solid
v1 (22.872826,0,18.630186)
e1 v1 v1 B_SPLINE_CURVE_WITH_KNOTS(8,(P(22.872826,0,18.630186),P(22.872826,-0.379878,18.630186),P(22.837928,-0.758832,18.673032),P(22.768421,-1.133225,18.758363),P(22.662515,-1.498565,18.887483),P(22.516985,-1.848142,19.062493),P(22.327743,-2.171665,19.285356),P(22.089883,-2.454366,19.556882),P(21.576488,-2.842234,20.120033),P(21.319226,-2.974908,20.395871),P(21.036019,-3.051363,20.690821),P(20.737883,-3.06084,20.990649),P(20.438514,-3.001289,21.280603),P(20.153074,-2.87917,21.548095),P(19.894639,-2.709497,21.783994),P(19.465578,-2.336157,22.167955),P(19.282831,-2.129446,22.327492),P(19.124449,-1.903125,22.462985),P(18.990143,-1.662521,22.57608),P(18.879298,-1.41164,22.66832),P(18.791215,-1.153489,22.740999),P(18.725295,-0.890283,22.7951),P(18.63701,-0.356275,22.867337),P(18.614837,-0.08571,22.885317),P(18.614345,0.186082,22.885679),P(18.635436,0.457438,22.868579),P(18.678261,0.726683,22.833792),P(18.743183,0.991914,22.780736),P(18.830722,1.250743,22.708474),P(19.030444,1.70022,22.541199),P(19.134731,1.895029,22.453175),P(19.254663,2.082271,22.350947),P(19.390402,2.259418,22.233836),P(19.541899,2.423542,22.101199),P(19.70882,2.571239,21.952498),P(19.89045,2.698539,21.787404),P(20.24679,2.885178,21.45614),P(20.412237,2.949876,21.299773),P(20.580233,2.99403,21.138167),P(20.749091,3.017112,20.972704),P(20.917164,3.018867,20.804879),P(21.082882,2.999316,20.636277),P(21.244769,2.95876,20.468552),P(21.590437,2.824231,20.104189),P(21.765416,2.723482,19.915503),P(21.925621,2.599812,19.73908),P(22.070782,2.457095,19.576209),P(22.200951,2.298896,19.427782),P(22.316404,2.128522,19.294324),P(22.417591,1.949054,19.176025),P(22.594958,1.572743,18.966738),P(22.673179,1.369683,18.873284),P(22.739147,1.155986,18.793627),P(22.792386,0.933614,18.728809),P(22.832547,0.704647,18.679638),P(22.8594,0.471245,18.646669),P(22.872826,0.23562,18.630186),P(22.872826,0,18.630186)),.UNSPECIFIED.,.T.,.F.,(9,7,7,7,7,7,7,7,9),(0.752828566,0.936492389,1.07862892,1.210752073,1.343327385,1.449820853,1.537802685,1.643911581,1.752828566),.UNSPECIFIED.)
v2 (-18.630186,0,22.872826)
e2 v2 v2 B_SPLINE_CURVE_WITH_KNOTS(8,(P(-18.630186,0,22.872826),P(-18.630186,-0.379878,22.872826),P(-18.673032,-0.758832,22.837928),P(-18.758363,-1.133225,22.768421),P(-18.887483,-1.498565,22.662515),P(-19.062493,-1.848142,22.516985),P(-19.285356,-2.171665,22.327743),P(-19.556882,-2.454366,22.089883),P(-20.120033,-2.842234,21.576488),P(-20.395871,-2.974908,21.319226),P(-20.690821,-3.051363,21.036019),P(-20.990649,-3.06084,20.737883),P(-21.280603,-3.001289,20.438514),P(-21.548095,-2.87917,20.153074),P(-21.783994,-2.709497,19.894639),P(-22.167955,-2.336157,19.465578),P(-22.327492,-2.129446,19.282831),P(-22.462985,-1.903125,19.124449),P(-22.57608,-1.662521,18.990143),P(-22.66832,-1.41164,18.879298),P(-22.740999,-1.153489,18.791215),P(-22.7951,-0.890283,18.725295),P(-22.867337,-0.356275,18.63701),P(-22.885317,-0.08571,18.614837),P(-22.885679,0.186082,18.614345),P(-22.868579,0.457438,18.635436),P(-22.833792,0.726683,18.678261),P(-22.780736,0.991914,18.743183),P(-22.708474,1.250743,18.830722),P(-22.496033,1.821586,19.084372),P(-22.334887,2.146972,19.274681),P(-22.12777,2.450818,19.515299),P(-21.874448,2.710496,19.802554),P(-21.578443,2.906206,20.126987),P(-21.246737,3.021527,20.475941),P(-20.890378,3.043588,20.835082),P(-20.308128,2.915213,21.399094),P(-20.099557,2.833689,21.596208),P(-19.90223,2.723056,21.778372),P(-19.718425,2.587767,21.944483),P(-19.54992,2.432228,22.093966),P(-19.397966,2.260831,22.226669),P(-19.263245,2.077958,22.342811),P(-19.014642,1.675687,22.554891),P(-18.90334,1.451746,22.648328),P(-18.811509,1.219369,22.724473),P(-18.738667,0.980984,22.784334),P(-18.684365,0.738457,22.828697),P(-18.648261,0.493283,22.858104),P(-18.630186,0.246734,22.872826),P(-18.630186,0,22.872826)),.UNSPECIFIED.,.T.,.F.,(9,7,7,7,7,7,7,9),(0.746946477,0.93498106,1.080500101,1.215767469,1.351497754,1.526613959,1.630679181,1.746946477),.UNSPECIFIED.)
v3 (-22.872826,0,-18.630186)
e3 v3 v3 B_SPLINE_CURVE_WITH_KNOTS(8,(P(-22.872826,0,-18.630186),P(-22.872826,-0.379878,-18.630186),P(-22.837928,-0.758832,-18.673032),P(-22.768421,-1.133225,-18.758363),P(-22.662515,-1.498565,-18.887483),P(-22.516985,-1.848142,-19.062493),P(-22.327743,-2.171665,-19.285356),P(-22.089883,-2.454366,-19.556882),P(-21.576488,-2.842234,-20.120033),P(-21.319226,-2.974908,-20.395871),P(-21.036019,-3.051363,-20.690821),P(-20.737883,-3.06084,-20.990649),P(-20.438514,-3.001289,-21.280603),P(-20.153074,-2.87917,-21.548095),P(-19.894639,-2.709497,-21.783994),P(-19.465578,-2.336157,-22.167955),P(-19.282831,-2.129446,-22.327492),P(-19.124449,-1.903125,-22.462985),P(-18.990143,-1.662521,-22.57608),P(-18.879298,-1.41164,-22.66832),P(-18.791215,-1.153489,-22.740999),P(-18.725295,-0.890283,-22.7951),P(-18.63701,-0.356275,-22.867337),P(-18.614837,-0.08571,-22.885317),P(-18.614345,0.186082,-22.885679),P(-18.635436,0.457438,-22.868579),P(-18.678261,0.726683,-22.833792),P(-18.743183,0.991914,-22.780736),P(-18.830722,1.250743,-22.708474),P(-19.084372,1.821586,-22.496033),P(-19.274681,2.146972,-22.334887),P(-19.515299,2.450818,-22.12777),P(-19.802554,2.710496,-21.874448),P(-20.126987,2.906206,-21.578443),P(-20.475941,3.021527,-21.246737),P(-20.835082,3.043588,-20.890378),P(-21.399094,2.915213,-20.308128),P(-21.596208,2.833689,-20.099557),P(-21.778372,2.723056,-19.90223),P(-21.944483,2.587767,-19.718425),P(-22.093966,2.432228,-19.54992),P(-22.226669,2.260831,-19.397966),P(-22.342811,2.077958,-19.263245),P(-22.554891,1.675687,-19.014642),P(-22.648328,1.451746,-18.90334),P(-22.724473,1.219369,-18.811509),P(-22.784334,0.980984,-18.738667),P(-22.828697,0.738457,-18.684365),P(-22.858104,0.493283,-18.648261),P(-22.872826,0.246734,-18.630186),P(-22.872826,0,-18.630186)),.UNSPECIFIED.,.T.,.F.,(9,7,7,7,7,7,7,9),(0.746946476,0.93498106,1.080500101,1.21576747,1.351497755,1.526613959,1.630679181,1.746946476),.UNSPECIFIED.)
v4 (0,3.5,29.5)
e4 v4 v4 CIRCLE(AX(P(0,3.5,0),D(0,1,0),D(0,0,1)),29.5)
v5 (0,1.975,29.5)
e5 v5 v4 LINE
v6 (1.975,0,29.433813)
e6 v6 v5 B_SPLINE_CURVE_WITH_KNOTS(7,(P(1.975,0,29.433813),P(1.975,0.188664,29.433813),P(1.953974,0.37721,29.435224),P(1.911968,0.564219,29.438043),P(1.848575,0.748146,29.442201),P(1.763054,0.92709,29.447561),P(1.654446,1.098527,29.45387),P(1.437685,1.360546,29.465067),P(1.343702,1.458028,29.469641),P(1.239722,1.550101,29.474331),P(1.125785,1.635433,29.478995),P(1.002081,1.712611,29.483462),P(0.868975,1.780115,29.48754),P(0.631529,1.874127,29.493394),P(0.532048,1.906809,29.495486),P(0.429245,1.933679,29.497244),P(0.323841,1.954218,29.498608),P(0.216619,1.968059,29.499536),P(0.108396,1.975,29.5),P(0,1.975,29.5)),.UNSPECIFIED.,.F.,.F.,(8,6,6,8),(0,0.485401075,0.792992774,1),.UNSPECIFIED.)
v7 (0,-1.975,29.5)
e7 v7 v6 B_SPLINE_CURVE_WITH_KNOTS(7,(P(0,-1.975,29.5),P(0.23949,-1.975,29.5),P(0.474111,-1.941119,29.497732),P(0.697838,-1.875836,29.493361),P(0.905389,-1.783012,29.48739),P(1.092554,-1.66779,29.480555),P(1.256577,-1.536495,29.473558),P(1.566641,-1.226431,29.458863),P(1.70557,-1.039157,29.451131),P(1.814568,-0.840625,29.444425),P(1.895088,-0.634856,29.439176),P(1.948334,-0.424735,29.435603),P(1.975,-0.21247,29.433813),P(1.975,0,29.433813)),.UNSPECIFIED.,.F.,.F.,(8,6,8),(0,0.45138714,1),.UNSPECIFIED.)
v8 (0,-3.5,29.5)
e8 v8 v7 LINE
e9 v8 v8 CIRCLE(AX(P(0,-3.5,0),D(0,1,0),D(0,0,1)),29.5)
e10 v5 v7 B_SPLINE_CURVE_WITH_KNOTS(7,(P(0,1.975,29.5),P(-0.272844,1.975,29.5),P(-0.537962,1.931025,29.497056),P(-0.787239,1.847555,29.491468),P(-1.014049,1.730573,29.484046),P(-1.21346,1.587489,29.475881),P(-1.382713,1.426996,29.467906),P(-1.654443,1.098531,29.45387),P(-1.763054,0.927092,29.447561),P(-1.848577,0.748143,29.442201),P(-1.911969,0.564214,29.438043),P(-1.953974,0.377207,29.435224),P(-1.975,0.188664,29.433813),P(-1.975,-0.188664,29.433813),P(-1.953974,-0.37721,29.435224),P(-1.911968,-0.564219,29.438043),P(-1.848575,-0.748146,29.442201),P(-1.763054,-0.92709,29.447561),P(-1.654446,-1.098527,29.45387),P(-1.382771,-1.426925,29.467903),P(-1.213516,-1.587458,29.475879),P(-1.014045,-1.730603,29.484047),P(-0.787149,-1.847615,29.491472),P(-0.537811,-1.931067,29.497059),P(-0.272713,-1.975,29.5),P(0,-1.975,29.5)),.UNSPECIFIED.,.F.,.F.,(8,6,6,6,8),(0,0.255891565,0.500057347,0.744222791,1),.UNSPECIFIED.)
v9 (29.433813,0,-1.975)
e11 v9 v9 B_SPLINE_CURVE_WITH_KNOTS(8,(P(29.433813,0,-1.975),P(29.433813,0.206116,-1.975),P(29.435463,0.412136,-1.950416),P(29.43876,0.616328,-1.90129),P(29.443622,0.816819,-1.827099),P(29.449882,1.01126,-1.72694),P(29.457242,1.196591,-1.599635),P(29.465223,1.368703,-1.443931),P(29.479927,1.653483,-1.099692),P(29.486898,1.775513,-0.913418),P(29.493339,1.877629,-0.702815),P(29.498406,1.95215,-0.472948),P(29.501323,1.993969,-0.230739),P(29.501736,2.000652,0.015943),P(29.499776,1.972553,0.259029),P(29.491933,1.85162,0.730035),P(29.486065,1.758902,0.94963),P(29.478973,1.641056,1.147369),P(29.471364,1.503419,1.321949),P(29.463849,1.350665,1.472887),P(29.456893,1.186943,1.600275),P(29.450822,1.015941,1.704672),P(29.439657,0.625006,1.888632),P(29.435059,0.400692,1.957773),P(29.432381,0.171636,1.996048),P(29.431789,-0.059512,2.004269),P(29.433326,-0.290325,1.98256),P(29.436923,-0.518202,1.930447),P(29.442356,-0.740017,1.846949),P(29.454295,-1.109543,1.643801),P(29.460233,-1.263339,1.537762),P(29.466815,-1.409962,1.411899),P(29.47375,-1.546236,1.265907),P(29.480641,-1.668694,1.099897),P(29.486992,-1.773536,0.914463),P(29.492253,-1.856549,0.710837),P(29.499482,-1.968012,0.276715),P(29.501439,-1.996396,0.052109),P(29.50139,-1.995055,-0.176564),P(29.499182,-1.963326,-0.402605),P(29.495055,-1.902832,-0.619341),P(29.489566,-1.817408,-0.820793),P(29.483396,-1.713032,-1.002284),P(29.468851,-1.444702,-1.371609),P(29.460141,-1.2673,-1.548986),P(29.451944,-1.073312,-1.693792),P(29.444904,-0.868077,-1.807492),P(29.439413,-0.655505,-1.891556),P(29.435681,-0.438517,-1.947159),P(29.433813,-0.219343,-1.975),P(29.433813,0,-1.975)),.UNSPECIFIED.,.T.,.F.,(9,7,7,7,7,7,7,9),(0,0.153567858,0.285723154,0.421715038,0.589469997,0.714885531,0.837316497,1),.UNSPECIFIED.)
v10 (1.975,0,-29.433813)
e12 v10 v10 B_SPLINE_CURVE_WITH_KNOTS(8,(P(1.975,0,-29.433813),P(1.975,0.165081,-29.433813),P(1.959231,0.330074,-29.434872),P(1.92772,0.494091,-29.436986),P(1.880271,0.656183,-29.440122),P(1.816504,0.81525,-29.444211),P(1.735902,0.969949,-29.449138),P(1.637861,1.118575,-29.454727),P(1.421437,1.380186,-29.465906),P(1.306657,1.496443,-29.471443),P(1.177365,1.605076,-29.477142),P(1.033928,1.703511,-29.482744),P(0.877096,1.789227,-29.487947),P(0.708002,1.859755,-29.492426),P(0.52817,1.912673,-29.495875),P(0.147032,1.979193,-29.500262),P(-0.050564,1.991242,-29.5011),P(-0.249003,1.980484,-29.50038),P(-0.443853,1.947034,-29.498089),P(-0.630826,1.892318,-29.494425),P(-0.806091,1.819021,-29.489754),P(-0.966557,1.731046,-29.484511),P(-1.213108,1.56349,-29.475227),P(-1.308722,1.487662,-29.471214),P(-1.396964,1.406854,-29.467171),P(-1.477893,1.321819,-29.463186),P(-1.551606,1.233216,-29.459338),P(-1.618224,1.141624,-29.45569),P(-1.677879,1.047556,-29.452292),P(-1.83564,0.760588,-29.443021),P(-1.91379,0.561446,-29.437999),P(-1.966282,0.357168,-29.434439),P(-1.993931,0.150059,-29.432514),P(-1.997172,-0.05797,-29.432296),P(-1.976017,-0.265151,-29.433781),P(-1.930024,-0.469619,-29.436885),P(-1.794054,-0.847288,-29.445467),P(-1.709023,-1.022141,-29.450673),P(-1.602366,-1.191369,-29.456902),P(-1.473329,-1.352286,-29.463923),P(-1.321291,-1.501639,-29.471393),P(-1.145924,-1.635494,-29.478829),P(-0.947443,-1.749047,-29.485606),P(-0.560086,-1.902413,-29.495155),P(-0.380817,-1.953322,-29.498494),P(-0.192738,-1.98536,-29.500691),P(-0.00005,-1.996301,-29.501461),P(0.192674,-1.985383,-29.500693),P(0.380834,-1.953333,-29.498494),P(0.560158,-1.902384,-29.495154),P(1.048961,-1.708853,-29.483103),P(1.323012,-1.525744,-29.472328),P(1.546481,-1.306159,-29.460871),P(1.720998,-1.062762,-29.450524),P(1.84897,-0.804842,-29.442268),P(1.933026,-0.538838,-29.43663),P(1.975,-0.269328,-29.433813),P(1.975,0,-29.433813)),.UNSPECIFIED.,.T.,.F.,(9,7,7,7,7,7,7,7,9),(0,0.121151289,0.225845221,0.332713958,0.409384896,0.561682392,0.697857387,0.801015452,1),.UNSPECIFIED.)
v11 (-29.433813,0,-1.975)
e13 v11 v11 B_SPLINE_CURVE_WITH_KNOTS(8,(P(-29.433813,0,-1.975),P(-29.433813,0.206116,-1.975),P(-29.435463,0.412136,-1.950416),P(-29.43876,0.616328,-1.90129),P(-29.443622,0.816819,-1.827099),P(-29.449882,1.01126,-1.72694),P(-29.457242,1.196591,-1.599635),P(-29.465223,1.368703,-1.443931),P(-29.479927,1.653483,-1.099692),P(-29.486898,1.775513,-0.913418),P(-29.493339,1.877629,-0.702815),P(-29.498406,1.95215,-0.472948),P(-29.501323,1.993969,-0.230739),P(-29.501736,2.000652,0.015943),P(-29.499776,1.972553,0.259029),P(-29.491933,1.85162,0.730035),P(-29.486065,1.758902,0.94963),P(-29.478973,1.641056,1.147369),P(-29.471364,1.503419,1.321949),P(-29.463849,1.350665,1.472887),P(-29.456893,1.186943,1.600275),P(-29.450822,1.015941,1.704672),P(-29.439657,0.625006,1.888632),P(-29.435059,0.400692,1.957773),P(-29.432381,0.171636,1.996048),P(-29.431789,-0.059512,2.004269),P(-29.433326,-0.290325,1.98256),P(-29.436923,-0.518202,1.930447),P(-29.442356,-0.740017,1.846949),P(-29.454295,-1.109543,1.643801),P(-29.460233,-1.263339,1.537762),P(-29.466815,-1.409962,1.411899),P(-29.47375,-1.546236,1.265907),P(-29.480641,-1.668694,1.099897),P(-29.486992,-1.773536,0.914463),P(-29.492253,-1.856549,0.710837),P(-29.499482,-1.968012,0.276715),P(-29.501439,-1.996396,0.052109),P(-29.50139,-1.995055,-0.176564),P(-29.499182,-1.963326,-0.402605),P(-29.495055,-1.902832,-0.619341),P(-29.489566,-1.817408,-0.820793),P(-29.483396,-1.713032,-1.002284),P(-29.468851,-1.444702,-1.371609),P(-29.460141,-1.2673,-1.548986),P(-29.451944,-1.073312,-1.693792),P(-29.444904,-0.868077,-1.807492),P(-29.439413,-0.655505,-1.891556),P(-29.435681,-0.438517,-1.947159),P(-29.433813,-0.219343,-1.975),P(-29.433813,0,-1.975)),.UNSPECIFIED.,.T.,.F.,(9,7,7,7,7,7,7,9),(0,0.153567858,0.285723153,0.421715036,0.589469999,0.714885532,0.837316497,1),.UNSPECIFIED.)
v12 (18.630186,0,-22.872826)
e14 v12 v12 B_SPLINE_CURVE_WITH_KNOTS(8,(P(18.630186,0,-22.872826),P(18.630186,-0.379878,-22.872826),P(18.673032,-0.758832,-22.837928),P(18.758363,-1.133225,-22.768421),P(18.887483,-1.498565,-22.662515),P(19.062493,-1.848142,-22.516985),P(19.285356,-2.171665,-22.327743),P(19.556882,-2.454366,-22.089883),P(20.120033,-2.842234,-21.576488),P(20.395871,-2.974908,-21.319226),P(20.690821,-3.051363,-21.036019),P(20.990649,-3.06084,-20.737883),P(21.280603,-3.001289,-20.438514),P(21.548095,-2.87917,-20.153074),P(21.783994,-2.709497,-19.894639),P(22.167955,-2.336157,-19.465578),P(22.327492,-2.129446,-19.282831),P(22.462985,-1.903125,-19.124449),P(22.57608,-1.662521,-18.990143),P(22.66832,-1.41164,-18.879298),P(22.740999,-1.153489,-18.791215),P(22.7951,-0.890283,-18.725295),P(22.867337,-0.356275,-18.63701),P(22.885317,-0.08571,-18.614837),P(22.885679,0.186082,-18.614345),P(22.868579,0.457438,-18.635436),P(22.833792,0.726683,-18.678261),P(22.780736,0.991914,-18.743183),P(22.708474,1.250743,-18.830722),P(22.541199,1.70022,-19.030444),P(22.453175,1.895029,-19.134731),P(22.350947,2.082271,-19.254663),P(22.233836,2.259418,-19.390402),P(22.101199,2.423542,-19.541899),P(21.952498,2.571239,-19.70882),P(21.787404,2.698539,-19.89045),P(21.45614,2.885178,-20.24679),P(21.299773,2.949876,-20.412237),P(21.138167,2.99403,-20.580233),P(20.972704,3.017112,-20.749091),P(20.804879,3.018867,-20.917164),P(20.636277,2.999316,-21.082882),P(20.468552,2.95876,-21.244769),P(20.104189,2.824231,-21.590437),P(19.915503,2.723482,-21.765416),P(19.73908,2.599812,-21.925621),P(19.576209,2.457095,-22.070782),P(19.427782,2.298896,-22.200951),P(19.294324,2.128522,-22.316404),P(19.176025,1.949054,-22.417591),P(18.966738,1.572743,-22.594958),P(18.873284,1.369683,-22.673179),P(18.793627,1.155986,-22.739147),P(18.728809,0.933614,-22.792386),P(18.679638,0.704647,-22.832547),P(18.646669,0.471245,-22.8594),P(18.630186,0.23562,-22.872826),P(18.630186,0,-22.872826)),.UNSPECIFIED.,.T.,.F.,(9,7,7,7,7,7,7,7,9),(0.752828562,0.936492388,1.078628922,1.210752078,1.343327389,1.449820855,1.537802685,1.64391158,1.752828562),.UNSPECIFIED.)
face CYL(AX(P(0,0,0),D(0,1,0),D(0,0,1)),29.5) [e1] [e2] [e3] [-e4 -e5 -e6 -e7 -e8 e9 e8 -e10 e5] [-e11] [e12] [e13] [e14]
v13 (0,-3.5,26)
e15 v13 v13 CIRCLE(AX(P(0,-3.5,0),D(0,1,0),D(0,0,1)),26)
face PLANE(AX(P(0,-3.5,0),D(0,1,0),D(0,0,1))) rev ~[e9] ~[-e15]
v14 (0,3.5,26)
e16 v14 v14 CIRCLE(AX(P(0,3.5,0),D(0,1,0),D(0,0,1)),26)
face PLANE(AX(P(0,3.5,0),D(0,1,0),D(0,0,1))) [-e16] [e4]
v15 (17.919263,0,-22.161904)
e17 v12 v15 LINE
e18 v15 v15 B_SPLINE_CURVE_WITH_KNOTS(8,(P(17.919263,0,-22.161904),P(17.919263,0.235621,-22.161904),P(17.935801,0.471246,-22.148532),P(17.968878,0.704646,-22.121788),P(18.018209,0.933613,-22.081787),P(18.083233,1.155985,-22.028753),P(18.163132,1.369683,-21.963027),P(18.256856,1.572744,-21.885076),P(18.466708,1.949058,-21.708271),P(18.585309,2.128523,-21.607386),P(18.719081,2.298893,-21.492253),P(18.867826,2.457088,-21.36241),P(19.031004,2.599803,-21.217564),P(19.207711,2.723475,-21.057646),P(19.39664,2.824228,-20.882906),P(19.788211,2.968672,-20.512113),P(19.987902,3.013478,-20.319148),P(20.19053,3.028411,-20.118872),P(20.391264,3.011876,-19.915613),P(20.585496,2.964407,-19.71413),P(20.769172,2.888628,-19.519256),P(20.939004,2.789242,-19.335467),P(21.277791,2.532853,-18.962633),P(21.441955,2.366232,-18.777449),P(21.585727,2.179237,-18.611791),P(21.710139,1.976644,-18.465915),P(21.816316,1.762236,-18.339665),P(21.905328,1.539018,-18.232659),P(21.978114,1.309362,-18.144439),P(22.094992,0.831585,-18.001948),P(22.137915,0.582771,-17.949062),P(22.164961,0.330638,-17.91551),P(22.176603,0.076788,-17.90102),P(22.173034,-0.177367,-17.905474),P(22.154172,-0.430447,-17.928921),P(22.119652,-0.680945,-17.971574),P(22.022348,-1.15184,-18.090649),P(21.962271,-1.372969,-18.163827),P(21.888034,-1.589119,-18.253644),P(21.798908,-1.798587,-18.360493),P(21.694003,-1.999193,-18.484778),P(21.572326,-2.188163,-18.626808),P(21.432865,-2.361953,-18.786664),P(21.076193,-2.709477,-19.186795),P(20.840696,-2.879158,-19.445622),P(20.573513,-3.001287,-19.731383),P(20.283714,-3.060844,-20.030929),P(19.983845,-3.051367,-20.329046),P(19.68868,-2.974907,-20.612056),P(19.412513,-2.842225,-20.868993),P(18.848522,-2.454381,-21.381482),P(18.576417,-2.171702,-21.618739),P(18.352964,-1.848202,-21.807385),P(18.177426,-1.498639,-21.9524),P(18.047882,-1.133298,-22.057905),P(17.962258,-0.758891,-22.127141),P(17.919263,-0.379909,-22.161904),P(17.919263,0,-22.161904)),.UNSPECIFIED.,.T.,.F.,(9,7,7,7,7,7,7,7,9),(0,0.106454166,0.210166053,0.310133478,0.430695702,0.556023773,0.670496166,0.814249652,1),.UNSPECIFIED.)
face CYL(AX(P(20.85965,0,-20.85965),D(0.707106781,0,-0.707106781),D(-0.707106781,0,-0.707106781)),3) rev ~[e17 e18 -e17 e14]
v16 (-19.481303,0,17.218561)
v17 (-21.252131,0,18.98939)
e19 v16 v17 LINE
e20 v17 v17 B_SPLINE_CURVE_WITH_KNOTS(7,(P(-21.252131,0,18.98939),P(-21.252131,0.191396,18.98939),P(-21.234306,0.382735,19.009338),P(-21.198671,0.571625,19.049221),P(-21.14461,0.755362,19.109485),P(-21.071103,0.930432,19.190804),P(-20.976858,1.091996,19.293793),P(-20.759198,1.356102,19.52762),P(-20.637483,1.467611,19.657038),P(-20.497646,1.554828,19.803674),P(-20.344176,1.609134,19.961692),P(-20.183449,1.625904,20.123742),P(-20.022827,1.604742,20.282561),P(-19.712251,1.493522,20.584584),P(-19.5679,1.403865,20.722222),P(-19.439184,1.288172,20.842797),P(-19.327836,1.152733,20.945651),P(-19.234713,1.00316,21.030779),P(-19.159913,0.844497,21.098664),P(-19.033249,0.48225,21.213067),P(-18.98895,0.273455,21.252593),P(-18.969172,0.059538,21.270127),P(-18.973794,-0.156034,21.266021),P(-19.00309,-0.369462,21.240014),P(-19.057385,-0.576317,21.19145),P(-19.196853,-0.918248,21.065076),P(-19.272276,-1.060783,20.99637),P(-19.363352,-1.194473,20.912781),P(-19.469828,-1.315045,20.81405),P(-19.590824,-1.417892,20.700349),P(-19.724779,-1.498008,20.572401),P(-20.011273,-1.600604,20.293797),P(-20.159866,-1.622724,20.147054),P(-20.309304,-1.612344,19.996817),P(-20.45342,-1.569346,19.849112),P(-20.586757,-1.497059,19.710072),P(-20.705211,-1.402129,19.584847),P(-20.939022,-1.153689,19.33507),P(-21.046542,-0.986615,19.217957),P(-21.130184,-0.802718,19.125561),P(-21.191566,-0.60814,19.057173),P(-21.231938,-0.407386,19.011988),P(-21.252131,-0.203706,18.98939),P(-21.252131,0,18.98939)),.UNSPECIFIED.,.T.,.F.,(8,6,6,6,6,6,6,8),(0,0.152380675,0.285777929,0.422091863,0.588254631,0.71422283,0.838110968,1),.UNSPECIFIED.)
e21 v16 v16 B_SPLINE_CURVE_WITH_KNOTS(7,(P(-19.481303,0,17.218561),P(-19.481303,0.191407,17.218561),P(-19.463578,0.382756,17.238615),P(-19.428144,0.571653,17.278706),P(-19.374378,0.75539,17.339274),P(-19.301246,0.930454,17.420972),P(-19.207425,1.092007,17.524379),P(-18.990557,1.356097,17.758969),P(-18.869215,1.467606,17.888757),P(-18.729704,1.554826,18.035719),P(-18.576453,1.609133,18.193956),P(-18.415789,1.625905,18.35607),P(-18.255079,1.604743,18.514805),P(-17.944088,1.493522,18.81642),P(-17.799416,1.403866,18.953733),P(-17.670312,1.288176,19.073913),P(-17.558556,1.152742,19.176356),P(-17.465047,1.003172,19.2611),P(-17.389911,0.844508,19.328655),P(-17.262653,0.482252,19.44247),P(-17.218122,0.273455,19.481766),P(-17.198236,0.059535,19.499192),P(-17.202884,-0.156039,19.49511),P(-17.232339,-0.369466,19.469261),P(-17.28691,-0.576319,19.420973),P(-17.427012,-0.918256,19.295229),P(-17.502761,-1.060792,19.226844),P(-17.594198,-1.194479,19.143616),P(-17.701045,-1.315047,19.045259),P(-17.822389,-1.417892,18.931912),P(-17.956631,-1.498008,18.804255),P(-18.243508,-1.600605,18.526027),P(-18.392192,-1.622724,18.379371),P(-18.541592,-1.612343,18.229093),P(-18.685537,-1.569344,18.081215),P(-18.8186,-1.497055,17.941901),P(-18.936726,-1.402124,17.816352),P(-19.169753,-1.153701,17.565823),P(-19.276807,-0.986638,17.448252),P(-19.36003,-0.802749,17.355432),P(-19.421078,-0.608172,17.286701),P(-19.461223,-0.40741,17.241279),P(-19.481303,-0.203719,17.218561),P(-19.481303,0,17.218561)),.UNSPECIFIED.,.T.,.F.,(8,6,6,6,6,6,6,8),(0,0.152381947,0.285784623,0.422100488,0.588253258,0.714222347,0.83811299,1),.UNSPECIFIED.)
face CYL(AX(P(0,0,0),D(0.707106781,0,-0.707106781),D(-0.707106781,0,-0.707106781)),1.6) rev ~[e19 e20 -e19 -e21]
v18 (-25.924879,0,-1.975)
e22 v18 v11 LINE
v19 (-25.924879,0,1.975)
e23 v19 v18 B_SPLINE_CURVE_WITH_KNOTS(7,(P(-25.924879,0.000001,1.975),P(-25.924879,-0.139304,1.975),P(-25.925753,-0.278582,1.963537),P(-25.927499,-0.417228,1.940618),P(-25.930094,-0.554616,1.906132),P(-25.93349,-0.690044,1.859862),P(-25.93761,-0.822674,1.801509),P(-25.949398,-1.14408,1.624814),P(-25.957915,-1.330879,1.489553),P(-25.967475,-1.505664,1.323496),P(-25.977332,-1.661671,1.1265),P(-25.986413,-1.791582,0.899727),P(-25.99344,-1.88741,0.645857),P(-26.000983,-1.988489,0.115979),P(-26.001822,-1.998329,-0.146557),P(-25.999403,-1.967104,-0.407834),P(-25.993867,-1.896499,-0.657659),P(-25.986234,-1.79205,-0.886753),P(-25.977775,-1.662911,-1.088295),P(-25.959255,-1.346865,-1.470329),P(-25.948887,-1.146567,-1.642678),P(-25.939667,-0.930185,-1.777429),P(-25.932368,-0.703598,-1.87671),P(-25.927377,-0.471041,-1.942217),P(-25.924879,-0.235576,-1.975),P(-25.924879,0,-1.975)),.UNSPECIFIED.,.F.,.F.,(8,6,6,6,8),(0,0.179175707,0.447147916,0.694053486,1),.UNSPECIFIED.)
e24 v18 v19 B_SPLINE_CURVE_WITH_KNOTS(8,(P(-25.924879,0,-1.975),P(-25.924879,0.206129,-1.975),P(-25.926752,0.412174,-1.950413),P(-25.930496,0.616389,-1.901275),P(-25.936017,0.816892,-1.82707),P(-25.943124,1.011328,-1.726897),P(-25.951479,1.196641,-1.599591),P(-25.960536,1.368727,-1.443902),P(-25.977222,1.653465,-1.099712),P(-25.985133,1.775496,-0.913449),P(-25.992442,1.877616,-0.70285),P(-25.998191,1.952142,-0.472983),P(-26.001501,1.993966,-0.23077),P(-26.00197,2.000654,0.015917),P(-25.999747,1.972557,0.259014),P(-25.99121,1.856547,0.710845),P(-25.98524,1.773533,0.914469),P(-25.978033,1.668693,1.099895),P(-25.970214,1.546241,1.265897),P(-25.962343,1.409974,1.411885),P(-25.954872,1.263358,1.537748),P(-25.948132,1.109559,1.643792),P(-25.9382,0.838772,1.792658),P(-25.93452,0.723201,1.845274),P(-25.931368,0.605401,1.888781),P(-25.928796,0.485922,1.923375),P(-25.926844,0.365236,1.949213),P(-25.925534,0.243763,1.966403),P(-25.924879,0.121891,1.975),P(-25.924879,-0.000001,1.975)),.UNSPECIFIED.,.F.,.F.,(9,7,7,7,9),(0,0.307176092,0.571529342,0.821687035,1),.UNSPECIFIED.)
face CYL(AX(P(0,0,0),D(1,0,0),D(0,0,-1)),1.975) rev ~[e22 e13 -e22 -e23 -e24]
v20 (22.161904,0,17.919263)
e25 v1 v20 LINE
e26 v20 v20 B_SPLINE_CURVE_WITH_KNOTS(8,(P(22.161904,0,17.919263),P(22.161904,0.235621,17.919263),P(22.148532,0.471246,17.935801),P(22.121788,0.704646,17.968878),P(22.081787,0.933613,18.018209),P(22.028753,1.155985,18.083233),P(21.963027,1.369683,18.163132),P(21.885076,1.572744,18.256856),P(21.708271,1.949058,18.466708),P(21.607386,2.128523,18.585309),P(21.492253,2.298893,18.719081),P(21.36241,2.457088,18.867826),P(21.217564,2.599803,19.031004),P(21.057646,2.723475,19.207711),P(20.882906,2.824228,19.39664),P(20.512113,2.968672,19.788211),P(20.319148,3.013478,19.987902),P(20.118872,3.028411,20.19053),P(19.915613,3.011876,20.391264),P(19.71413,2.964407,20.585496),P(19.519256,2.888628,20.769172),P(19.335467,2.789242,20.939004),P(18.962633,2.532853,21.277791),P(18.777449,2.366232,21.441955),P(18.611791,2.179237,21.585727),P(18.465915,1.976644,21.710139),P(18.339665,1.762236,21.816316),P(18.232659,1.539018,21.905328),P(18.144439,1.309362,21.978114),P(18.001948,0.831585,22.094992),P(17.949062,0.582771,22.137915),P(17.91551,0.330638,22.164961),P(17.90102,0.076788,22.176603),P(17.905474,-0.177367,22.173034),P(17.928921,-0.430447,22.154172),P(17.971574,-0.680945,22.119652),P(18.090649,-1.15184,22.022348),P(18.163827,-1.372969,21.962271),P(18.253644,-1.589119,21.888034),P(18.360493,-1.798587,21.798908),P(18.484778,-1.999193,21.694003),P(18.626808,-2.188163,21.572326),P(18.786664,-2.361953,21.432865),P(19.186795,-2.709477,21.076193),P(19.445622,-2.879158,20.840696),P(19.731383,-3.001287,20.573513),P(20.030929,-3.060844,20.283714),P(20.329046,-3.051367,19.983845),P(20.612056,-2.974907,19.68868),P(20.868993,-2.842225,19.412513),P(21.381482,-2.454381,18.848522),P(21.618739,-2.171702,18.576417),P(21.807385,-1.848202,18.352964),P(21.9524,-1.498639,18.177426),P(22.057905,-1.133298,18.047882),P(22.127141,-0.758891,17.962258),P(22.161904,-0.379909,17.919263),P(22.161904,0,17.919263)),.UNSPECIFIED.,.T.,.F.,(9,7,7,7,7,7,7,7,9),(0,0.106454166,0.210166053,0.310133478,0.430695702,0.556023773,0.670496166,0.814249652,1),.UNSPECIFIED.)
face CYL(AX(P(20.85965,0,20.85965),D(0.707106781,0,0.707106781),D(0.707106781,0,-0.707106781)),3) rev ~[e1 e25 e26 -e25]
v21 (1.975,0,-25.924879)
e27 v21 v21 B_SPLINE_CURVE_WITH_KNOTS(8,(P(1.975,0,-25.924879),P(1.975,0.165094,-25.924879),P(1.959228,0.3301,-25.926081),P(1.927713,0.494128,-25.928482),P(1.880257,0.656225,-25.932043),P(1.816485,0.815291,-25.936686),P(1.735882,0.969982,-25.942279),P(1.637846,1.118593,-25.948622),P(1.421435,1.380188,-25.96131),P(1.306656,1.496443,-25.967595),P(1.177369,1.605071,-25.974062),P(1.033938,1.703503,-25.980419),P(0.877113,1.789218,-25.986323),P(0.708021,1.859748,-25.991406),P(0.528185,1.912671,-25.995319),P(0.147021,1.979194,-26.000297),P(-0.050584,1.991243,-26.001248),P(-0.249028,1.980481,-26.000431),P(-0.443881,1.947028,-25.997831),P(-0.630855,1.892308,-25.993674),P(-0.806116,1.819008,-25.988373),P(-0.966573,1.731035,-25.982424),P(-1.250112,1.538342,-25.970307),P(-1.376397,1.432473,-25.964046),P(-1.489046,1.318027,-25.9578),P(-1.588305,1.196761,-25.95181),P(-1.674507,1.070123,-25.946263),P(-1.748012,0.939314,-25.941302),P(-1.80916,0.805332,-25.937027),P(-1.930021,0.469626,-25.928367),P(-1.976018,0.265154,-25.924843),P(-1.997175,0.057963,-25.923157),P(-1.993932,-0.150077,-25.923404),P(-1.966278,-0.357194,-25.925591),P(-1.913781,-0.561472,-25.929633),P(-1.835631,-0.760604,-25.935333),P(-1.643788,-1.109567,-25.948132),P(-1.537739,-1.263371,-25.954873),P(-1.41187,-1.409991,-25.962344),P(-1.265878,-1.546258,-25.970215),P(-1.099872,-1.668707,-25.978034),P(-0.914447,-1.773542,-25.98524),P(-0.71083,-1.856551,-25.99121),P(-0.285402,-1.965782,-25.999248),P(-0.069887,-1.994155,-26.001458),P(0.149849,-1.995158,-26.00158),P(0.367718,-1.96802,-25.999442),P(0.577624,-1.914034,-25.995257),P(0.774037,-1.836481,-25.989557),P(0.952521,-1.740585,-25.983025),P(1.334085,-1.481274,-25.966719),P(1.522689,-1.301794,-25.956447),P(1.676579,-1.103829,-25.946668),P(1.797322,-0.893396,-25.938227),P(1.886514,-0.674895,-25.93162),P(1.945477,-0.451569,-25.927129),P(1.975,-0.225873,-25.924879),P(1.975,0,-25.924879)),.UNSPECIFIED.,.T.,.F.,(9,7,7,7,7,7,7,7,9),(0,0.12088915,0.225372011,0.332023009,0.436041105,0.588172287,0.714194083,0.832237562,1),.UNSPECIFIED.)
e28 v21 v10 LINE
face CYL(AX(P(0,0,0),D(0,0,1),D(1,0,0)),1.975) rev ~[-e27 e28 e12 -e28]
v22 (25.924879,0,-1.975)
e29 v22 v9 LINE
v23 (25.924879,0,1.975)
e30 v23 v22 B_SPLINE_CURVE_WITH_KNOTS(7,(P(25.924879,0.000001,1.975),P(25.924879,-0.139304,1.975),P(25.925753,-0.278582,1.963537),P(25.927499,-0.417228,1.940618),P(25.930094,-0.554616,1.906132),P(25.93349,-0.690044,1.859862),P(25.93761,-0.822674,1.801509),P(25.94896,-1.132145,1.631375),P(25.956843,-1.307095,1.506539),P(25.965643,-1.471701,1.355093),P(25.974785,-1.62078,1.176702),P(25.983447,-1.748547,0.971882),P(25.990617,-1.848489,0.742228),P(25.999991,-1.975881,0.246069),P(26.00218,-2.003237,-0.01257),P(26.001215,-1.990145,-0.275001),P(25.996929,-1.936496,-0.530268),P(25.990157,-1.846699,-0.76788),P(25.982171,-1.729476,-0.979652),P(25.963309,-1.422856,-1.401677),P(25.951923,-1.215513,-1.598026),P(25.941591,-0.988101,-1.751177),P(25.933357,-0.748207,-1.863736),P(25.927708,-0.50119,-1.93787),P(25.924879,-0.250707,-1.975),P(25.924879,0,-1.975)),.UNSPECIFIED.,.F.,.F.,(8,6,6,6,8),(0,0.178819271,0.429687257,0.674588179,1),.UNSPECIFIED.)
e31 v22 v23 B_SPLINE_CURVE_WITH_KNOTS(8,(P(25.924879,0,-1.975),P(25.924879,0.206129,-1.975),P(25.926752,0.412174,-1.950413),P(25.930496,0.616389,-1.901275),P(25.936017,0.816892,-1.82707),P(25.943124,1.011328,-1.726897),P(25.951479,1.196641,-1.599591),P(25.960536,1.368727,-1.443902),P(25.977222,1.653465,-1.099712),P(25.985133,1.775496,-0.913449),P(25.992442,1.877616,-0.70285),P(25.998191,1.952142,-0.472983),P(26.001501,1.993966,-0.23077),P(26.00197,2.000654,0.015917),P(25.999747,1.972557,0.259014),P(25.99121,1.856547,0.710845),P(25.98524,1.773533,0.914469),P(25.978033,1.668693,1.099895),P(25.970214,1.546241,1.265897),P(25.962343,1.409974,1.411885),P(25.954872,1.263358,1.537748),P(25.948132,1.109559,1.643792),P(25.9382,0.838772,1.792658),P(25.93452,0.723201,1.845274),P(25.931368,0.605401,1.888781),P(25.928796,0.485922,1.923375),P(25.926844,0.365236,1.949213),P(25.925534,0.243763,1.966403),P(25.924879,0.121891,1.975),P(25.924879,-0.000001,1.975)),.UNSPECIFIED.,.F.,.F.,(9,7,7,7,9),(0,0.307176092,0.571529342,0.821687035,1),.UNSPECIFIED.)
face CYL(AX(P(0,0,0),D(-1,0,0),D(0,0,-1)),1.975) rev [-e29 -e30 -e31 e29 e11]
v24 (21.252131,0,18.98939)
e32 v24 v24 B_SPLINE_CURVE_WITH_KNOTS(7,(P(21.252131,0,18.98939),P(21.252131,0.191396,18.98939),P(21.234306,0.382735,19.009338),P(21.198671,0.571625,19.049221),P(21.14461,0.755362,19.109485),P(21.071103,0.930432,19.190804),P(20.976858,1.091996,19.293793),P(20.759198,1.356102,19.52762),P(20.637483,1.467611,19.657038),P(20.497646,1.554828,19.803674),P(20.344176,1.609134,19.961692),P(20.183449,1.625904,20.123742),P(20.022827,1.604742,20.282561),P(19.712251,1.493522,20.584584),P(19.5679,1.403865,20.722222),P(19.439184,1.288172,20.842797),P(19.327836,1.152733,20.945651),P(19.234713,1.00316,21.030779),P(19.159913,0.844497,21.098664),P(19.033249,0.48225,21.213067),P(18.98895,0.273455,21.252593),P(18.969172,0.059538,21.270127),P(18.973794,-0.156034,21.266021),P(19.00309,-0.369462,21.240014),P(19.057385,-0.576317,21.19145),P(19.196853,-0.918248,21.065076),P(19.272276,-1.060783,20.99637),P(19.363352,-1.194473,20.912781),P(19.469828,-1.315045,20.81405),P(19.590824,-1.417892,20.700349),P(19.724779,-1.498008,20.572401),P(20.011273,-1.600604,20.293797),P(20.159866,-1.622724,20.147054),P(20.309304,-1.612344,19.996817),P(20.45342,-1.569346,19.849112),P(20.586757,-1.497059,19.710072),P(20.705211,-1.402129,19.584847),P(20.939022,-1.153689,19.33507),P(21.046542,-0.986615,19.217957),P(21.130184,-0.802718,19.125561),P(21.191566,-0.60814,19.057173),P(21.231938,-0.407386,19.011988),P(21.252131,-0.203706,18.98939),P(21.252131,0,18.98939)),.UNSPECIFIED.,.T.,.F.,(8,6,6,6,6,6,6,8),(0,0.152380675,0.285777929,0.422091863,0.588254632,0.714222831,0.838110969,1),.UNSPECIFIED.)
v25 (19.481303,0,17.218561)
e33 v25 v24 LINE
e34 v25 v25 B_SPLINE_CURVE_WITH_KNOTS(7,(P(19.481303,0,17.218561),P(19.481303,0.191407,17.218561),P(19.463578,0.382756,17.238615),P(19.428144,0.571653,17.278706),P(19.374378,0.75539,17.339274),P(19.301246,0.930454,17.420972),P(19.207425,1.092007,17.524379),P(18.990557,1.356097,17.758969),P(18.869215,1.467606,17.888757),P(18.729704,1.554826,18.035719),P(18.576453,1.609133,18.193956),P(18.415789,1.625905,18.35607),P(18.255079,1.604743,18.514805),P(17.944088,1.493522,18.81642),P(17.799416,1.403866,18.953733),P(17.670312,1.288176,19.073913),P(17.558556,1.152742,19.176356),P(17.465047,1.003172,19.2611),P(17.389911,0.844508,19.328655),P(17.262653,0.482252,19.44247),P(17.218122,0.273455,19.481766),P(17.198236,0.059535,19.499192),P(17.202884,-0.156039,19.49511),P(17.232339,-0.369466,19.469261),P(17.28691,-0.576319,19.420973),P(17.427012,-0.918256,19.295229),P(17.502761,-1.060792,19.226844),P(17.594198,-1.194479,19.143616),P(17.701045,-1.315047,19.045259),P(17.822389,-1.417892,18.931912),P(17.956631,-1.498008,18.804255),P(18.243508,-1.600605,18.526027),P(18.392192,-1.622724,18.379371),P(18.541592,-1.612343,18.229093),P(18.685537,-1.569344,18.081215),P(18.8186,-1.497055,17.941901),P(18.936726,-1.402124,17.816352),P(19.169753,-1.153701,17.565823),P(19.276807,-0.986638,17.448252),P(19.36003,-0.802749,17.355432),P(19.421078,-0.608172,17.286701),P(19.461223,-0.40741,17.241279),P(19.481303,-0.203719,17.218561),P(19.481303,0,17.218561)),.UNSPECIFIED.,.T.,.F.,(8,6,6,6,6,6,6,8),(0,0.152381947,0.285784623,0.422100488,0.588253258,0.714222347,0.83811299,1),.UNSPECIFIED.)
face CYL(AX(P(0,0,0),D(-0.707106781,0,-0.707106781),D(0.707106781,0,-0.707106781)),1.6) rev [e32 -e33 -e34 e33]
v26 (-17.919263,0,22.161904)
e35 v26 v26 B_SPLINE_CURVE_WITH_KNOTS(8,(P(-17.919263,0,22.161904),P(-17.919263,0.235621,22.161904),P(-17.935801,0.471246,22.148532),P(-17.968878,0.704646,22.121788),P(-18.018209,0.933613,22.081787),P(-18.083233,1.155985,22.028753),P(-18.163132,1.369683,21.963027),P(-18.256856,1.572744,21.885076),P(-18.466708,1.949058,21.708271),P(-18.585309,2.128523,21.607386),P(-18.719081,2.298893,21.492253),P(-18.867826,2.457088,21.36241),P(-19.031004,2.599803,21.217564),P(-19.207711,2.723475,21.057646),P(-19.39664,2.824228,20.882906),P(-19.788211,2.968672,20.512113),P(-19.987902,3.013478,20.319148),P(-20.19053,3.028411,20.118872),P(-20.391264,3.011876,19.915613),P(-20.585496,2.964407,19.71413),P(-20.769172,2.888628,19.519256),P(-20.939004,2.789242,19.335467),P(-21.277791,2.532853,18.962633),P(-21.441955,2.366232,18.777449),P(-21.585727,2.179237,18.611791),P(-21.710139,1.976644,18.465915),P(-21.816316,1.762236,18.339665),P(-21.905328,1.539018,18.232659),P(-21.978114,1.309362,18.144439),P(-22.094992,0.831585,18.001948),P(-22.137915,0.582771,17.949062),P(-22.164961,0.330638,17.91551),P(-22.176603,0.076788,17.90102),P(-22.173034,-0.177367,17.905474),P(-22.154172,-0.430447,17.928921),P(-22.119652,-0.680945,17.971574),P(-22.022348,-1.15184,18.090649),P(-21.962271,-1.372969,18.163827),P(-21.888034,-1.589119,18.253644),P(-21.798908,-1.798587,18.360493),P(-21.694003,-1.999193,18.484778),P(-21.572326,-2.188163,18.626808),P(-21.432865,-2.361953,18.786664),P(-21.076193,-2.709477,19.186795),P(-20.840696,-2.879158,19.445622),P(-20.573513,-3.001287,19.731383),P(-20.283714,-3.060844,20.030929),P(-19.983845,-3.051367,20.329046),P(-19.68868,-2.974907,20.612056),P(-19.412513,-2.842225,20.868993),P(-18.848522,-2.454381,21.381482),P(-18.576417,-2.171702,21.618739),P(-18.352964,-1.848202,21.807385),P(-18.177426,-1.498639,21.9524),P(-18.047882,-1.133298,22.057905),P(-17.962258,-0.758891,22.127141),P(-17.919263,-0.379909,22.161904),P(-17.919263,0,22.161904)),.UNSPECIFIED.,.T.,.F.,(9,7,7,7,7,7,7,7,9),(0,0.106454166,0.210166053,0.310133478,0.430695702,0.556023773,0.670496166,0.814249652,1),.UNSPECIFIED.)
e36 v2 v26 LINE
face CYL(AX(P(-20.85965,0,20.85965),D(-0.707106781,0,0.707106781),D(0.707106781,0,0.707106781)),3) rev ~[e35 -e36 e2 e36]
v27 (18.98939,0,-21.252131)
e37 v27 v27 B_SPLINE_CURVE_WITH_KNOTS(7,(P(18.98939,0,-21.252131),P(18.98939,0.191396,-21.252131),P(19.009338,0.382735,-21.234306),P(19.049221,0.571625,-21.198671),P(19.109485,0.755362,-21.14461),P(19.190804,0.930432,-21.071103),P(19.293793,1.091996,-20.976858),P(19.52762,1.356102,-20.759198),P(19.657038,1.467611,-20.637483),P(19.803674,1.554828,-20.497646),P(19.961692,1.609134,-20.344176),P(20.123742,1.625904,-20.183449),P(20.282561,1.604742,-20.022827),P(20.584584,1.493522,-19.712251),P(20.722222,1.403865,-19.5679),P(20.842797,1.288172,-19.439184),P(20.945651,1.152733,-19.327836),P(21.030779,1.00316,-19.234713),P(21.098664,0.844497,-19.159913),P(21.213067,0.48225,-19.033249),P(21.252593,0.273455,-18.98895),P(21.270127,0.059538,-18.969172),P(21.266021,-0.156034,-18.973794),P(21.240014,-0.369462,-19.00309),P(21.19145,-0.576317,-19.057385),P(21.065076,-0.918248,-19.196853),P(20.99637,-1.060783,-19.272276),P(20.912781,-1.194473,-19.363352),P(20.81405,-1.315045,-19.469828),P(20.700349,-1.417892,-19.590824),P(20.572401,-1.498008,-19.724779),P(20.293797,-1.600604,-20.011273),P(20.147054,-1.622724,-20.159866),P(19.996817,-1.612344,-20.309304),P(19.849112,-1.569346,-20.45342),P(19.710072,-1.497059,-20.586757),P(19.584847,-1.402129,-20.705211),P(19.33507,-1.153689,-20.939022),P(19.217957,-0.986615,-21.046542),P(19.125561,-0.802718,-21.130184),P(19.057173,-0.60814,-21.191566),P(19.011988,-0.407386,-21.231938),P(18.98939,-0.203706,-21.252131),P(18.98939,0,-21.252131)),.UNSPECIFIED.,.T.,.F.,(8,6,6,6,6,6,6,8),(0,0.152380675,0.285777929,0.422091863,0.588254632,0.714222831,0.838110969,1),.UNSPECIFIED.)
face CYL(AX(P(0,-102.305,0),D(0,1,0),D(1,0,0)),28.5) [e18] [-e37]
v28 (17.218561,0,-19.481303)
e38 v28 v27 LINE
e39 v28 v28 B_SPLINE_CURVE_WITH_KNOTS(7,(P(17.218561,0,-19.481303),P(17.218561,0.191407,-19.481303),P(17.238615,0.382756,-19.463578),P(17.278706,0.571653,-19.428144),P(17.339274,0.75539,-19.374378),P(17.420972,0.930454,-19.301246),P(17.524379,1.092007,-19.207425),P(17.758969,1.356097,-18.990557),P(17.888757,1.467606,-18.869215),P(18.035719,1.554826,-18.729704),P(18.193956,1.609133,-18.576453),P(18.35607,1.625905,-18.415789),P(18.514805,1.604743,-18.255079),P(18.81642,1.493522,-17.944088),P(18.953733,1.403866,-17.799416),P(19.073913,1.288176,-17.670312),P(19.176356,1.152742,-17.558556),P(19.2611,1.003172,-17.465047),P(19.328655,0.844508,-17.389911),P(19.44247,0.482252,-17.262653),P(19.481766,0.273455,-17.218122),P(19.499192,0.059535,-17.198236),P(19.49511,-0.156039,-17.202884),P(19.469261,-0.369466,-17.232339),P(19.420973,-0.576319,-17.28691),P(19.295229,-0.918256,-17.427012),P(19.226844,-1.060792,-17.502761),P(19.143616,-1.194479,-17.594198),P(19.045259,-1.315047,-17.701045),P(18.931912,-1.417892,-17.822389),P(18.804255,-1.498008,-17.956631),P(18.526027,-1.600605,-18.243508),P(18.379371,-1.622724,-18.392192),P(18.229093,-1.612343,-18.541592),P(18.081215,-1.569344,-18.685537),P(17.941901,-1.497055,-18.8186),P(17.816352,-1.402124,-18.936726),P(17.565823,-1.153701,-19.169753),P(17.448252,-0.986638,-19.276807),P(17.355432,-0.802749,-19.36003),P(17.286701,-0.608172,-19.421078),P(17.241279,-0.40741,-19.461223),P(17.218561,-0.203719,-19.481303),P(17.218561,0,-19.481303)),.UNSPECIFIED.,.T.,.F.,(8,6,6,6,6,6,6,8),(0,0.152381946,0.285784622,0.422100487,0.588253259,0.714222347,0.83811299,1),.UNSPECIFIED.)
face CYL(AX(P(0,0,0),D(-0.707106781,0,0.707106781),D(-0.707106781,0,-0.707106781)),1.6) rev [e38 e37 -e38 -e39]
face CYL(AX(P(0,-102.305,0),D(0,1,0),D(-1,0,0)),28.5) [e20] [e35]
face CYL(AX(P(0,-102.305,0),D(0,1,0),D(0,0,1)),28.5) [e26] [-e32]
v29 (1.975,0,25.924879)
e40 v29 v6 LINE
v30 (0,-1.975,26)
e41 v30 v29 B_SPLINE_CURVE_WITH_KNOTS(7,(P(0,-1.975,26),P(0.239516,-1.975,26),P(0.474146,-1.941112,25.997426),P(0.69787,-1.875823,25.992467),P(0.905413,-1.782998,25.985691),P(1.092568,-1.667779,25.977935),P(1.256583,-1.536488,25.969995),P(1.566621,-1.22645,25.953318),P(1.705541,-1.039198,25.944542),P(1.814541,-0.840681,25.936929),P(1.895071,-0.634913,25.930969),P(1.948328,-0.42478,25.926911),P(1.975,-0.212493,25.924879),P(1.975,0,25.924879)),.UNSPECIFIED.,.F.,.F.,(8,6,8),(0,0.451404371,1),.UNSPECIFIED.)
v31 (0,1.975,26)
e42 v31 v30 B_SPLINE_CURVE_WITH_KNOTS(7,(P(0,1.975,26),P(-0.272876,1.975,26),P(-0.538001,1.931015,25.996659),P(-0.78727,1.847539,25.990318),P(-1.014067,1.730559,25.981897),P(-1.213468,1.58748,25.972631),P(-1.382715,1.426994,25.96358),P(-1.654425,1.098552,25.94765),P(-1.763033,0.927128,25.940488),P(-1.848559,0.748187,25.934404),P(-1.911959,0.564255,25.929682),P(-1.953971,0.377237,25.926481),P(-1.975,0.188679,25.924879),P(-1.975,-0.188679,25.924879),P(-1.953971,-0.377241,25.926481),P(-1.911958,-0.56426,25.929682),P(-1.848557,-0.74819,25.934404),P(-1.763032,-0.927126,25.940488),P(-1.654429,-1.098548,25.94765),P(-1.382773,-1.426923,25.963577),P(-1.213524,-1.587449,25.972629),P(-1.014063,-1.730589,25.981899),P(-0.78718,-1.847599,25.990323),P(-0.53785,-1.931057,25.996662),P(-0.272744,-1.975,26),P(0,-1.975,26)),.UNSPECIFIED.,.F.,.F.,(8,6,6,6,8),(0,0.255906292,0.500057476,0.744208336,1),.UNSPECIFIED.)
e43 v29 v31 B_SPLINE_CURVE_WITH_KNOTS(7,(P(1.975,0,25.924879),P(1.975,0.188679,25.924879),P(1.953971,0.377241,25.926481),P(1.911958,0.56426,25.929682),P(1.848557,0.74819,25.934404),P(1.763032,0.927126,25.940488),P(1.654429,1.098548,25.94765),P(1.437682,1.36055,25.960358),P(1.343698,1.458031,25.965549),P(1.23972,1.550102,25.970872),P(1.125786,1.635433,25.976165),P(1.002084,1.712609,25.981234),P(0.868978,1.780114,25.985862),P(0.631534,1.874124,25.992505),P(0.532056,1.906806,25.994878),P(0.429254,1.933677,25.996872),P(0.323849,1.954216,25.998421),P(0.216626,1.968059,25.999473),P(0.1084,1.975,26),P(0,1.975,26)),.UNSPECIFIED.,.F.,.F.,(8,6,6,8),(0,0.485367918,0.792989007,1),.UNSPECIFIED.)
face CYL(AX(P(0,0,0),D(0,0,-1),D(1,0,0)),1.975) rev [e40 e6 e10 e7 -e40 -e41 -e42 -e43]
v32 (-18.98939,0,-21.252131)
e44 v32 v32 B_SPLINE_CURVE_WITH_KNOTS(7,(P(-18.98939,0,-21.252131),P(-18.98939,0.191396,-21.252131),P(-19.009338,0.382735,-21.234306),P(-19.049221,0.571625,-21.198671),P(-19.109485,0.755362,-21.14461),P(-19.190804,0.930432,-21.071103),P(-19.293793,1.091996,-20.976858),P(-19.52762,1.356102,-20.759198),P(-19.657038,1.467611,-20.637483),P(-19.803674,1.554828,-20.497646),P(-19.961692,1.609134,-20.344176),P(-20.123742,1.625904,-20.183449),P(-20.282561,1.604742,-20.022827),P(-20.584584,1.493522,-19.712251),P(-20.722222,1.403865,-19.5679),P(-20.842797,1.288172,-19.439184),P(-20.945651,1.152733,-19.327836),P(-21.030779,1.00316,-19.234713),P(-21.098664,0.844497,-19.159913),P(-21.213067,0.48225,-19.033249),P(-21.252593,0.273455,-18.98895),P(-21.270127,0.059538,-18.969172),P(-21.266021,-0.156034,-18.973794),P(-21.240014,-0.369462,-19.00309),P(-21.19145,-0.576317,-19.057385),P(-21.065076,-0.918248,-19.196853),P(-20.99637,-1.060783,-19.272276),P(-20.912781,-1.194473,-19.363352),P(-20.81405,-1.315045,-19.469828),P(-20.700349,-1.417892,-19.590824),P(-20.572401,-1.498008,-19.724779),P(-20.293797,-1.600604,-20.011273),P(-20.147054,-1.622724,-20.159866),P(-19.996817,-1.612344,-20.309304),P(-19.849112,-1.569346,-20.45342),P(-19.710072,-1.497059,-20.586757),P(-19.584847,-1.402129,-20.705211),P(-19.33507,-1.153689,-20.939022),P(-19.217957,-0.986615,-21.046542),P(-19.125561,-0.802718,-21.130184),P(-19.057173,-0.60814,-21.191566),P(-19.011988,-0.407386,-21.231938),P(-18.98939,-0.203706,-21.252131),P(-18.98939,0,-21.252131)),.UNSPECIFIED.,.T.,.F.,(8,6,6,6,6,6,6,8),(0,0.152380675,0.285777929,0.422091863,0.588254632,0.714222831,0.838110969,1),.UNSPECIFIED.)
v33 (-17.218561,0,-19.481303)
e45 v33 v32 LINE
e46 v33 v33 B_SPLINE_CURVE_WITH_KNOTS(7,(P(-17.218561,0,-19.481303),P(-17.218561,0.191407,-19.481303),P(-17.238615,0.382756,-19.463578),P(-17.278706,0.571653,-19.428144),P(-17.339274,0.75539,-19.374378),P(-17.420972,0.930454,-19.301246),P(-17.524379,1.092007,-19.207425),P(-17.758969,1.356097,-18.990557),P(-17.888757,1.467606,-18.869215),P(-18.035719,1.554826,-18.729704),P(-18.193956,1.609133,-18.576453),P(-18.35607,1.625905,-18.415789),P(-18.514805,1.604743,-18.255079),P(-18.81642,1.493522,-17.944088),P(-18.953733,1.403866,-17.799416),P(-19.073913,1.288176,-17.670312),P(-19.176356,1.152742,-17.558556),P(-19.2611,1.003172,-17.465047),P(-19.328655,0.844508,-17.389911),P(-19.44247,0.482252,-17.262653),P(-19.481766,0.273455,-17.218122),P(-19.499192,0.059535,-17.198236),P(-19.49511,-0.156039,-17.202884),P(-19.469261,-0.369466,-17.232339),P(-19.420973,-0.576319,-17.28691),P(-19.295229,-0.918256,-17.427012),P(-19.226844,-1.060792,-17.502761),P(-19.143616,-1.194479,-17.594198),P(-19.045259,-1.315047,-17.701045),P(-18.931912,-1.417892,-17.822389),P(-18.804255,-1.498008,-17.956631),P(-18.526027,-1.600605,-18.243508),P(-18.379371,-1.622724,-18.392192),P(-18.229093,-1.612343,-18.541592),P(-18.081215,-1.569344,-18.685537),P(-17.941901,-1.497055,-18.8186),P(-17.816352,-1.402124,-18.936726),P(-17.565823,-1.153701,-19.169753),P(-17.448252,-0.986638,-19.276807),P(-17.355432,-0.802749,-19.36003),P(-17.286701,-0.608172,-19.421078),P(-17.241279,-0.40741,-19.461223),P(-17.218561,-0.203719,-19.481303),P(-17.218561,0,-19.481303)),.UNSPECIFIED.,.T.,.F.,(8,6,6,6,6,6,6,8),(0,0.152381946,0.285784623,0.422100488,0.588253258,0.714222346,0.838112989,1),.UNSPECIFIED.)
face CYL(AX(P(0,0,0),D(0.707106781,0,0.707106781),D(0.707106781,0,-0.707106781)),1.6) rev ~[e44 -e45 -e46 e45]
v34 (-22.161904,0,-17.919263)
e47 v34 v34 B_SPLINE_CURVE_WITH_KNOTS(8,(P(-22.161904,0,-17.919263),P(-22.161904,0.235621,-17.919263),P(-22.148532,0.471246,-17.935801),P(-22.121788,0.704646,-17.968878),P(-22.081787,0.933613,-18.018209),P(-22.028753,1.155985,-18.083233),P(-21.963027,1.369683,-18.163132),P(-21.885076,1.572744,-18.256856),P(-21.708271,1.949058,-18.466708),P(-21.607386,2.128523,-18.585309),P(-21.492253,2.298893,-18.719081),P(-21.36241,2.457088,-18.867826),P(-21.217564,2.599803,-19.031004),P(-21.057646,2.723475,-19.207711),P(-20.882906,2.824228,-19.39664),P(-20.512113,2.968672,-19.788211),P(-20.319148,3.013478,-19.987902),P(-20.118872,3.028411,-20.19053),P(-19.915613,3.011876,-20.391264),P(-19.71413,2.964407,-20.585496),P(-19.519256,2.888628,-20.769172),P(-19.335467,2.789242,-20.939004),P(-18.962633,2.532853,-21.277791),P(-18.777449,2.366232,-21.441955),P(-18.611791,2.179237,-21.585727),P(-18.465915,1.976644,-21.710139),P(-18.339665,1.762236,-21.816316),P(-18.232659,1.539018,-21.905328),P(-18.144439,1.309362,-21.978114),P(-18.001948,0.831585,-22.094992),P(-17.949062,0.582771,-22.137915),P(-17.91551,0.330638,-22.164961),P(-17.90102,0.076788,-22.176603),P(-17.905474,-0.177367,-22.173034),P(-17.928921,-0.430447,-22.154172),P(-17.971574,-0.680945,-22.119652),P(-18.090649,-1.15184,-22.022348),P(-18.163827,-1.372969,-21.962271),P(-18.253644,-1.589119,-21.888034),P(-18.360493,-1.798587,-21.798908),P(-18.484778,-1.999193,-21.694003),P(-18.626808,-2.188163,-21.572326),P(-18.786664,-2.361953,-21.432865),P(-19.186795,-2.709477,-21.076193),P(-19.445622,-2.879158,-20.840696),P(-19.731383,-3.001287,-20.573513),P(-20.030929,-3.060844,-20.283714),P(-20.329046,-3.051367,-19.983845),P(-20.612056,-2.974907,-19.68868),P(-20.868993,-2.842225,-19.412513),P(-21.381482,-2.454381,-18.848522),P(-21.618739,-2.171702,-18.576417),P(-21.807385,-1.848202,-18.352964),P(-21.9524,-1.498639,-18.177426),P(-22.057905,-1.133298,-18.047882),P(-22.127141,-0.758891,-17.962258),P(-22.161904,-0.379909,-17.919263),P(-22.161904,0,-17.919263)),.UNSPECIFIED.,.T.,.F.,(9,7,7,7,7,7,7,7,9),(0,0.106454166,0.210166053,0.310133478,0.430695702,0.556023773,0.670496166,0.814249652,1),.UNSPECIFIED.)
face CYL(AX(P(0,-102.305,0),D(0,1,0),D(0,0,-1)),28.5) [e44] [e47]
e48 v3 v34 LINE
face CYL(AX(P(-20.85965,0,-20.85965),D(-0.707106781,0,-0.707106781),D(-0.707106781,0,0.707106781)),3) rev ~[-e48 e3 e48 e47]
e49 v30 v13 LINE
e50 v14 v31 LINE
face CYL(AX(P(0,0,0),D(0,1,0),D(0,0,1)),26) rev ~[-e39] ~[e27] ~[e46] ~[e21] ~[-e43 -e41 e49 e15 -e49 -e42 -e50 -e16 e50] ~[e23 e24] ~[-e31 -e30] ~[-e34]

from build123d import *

# Parameters (mm, degrees)
SKETCH1_R                = 29.5
SKETCH1_R_2              = 26
BOSS_EXTRUDE1_DEPTH      = 3.5
BOSS_EXTRUDE1_DEPTH_BACK = 3.5
SKETCH3_R                = 1.975
CUT_EXTRUDE1_DEPTH       = 42.865857211
CUT_EXTRUDE1_DEPTH_BACK  = 42.865857211
SKETCH4_R                = 1.975
CUT_EXTRUDE2_DEPTH       = 42.865857362
CUT_EXTRUDE2_DEPTH_BACK  = 42.865857362
SKETCH5_R                = 1.6
CUT_EXTRUDE3_DEPTH       = 42.865857364
CUT_EXTRUDE3_DEPTH_BACK  = 42.865857364
SKETCH6_R                = 1.6
CUT_EXTRUDE4_DEPTH       = 42.865857364
CUT_EXTRUDE4_DEPTH_BACK  = 42.865857364
CUT_EXTRUDE5_REACH       = 73.305
CUT_EXTRUDE5_END_RADIUS  = 28.5
SKETCH7_R                = 3
CIRPATTERN1_COUNT        = 4


with BuildPart() as part:
    # Sketch1 → Boss-Extrude1 (new, two sides)
    with BuildSketch(Plane(origin=(0, 0, 0), x_dir=(1, 0, 0), z_dir=(0, 1, 0))) as boss_extrude1_sk:
        with Locations(Location((0, 0, 0), (0, 0, 270))):
            Circle(SKETCH1_R)
        with Locations(Location((0, 0, 0), (0, 0, 270))):
            Circle(SKETCH1_R_2, mode=Mode.SUBTRACT)
    extrude(amount=BOSS_EXTRUDE1_DEPTH)
    extrude(boss_extrude1_sk.sketch, amount=-BOSS_EXTRUDE1_DEPTH_BACK)

    # Sketch3 → Cut-Extrude1 (cut, two sides)
    with BuildSketch(Plane(origin=(0, 0, 0), x_dir=(0, 0, -1), z_dir=(1, 0, 0))) as cut_extrude1_sk:
        Circle(SKETCH3_R)
    extrude(amount=CUT_EXTRUDE1_DEPTH, mode=Mode.SUBTRACT)
    extrude(cut_extrude1_sk.sketch, amount=-CUT_EXTRUDE1_DEPTH_BACK, mode=Mode.SUBTRACT)

    # Sketch4 → Cut-Extrude2 (cut, two sides)
    with BuildSketch(Plane.XY) as cut_extrude2_sk:
        Circle(SKETCH4_R)
    extrude(amount=CUT_EXTRUDE2_DEPTH, mode=Mode.SUBTRACT)
    extrude(cut_extrude2_sk.sketch, amount=-CUT_EXTRUDE2_DEPTH_BACK, mode=Mode.SUBTRACT)

    # Sketch5 → Cut-Extrude3 (cut, two sides)
    with BuildSketch(Plane(origin=(0, 0, 0), x_dir=(-0.7071067811865477, 0, -0.7071067811865475), z_dir=(0.7071067811865475, 0, -0.7071067811865477))) as cut_extrude3_sk:
        Circle(SKETCH5_R)
    extrude(amount=CUT_EXTRUDE3_DEPTH, mode=Mode.SUBTRACT)
    extrude(cut_extrude3_sk.sketch, amount=-CUT_EXTRUDE3_DEPTH_BACK, mode=Mode.SUBTRACT)

    # Sketch6 → Cut-Extrude4 (cut, two sides)
    with BuildSketch(Plane(origin=(0, 0, 0), x_dir=(0.7071067811865476, 0, -0.7071067811865476), z_dir=(0.7071067811865476, 0, 0.7071067811865476))) as cut_extrude4_sk:
        Circle(SKETCH6_R)
    extrude(amount=CUT_EXTRUDE4_DEPTH, mode=Mode.SUBTRACT)
    extrude(cut_extrude4_sk.sketch, amount=-CUT_EXTRUDE4_DEPTH_BACK, mode=Mode.SUBTRACT)

    # Cut-Extrude5: up to this cylinder (the profile starts outside it)
    cut_extrude5_end = Plane(origin=(0, 0, 0), z_dir=(0, 1, 0)) * Cylinder(CUT_EXTRUDE5_END_RADIUS, 204.61, mode=Mode.PRIVATE)
    # Sketch7 → Cut-Extrude5 (cut, up to the surface)
    with BuildSketch(Plane(origin=(20.859650045, 0, 20.859650045), x_dir=(0.7071067811865475, 0, -0.7071067811865477), z_dir=(0.7071067811865477, 0, 0.7071067811865475)), mode=Mode.PRIVATE) as cut_extrude5_sk1:
        Circle(SKETCH7_R)
    cut_extrude5_tool1 = extrude(cut_extrude5_sk1.sketch, amount=-CUT_EXTRUDE5_REACH, mode=Mode.PRIVATE) - cut_extrude5_end
    cut_extrude5 = cut_extrude5_tool1.solids().sort_by_distance((20.85965, 0, 20.85965))[0]
    add(cut_extrude5, mode=Mode.SUBTRACT)

    # CirPattern1: Cut-Extrude5 ×4 about axis
    cirpattern1_axis = Axis((0, 0, 0), (0, 1, 0))
    for i in range(1, CIRPATTERN1_COUNT):
        add(cut_extrude5.rotate(cirpattern1_axis, i * 360 / CIRPATTERN1_COUNT), mode=Mode.SUBTRACT)


solid = part.part
